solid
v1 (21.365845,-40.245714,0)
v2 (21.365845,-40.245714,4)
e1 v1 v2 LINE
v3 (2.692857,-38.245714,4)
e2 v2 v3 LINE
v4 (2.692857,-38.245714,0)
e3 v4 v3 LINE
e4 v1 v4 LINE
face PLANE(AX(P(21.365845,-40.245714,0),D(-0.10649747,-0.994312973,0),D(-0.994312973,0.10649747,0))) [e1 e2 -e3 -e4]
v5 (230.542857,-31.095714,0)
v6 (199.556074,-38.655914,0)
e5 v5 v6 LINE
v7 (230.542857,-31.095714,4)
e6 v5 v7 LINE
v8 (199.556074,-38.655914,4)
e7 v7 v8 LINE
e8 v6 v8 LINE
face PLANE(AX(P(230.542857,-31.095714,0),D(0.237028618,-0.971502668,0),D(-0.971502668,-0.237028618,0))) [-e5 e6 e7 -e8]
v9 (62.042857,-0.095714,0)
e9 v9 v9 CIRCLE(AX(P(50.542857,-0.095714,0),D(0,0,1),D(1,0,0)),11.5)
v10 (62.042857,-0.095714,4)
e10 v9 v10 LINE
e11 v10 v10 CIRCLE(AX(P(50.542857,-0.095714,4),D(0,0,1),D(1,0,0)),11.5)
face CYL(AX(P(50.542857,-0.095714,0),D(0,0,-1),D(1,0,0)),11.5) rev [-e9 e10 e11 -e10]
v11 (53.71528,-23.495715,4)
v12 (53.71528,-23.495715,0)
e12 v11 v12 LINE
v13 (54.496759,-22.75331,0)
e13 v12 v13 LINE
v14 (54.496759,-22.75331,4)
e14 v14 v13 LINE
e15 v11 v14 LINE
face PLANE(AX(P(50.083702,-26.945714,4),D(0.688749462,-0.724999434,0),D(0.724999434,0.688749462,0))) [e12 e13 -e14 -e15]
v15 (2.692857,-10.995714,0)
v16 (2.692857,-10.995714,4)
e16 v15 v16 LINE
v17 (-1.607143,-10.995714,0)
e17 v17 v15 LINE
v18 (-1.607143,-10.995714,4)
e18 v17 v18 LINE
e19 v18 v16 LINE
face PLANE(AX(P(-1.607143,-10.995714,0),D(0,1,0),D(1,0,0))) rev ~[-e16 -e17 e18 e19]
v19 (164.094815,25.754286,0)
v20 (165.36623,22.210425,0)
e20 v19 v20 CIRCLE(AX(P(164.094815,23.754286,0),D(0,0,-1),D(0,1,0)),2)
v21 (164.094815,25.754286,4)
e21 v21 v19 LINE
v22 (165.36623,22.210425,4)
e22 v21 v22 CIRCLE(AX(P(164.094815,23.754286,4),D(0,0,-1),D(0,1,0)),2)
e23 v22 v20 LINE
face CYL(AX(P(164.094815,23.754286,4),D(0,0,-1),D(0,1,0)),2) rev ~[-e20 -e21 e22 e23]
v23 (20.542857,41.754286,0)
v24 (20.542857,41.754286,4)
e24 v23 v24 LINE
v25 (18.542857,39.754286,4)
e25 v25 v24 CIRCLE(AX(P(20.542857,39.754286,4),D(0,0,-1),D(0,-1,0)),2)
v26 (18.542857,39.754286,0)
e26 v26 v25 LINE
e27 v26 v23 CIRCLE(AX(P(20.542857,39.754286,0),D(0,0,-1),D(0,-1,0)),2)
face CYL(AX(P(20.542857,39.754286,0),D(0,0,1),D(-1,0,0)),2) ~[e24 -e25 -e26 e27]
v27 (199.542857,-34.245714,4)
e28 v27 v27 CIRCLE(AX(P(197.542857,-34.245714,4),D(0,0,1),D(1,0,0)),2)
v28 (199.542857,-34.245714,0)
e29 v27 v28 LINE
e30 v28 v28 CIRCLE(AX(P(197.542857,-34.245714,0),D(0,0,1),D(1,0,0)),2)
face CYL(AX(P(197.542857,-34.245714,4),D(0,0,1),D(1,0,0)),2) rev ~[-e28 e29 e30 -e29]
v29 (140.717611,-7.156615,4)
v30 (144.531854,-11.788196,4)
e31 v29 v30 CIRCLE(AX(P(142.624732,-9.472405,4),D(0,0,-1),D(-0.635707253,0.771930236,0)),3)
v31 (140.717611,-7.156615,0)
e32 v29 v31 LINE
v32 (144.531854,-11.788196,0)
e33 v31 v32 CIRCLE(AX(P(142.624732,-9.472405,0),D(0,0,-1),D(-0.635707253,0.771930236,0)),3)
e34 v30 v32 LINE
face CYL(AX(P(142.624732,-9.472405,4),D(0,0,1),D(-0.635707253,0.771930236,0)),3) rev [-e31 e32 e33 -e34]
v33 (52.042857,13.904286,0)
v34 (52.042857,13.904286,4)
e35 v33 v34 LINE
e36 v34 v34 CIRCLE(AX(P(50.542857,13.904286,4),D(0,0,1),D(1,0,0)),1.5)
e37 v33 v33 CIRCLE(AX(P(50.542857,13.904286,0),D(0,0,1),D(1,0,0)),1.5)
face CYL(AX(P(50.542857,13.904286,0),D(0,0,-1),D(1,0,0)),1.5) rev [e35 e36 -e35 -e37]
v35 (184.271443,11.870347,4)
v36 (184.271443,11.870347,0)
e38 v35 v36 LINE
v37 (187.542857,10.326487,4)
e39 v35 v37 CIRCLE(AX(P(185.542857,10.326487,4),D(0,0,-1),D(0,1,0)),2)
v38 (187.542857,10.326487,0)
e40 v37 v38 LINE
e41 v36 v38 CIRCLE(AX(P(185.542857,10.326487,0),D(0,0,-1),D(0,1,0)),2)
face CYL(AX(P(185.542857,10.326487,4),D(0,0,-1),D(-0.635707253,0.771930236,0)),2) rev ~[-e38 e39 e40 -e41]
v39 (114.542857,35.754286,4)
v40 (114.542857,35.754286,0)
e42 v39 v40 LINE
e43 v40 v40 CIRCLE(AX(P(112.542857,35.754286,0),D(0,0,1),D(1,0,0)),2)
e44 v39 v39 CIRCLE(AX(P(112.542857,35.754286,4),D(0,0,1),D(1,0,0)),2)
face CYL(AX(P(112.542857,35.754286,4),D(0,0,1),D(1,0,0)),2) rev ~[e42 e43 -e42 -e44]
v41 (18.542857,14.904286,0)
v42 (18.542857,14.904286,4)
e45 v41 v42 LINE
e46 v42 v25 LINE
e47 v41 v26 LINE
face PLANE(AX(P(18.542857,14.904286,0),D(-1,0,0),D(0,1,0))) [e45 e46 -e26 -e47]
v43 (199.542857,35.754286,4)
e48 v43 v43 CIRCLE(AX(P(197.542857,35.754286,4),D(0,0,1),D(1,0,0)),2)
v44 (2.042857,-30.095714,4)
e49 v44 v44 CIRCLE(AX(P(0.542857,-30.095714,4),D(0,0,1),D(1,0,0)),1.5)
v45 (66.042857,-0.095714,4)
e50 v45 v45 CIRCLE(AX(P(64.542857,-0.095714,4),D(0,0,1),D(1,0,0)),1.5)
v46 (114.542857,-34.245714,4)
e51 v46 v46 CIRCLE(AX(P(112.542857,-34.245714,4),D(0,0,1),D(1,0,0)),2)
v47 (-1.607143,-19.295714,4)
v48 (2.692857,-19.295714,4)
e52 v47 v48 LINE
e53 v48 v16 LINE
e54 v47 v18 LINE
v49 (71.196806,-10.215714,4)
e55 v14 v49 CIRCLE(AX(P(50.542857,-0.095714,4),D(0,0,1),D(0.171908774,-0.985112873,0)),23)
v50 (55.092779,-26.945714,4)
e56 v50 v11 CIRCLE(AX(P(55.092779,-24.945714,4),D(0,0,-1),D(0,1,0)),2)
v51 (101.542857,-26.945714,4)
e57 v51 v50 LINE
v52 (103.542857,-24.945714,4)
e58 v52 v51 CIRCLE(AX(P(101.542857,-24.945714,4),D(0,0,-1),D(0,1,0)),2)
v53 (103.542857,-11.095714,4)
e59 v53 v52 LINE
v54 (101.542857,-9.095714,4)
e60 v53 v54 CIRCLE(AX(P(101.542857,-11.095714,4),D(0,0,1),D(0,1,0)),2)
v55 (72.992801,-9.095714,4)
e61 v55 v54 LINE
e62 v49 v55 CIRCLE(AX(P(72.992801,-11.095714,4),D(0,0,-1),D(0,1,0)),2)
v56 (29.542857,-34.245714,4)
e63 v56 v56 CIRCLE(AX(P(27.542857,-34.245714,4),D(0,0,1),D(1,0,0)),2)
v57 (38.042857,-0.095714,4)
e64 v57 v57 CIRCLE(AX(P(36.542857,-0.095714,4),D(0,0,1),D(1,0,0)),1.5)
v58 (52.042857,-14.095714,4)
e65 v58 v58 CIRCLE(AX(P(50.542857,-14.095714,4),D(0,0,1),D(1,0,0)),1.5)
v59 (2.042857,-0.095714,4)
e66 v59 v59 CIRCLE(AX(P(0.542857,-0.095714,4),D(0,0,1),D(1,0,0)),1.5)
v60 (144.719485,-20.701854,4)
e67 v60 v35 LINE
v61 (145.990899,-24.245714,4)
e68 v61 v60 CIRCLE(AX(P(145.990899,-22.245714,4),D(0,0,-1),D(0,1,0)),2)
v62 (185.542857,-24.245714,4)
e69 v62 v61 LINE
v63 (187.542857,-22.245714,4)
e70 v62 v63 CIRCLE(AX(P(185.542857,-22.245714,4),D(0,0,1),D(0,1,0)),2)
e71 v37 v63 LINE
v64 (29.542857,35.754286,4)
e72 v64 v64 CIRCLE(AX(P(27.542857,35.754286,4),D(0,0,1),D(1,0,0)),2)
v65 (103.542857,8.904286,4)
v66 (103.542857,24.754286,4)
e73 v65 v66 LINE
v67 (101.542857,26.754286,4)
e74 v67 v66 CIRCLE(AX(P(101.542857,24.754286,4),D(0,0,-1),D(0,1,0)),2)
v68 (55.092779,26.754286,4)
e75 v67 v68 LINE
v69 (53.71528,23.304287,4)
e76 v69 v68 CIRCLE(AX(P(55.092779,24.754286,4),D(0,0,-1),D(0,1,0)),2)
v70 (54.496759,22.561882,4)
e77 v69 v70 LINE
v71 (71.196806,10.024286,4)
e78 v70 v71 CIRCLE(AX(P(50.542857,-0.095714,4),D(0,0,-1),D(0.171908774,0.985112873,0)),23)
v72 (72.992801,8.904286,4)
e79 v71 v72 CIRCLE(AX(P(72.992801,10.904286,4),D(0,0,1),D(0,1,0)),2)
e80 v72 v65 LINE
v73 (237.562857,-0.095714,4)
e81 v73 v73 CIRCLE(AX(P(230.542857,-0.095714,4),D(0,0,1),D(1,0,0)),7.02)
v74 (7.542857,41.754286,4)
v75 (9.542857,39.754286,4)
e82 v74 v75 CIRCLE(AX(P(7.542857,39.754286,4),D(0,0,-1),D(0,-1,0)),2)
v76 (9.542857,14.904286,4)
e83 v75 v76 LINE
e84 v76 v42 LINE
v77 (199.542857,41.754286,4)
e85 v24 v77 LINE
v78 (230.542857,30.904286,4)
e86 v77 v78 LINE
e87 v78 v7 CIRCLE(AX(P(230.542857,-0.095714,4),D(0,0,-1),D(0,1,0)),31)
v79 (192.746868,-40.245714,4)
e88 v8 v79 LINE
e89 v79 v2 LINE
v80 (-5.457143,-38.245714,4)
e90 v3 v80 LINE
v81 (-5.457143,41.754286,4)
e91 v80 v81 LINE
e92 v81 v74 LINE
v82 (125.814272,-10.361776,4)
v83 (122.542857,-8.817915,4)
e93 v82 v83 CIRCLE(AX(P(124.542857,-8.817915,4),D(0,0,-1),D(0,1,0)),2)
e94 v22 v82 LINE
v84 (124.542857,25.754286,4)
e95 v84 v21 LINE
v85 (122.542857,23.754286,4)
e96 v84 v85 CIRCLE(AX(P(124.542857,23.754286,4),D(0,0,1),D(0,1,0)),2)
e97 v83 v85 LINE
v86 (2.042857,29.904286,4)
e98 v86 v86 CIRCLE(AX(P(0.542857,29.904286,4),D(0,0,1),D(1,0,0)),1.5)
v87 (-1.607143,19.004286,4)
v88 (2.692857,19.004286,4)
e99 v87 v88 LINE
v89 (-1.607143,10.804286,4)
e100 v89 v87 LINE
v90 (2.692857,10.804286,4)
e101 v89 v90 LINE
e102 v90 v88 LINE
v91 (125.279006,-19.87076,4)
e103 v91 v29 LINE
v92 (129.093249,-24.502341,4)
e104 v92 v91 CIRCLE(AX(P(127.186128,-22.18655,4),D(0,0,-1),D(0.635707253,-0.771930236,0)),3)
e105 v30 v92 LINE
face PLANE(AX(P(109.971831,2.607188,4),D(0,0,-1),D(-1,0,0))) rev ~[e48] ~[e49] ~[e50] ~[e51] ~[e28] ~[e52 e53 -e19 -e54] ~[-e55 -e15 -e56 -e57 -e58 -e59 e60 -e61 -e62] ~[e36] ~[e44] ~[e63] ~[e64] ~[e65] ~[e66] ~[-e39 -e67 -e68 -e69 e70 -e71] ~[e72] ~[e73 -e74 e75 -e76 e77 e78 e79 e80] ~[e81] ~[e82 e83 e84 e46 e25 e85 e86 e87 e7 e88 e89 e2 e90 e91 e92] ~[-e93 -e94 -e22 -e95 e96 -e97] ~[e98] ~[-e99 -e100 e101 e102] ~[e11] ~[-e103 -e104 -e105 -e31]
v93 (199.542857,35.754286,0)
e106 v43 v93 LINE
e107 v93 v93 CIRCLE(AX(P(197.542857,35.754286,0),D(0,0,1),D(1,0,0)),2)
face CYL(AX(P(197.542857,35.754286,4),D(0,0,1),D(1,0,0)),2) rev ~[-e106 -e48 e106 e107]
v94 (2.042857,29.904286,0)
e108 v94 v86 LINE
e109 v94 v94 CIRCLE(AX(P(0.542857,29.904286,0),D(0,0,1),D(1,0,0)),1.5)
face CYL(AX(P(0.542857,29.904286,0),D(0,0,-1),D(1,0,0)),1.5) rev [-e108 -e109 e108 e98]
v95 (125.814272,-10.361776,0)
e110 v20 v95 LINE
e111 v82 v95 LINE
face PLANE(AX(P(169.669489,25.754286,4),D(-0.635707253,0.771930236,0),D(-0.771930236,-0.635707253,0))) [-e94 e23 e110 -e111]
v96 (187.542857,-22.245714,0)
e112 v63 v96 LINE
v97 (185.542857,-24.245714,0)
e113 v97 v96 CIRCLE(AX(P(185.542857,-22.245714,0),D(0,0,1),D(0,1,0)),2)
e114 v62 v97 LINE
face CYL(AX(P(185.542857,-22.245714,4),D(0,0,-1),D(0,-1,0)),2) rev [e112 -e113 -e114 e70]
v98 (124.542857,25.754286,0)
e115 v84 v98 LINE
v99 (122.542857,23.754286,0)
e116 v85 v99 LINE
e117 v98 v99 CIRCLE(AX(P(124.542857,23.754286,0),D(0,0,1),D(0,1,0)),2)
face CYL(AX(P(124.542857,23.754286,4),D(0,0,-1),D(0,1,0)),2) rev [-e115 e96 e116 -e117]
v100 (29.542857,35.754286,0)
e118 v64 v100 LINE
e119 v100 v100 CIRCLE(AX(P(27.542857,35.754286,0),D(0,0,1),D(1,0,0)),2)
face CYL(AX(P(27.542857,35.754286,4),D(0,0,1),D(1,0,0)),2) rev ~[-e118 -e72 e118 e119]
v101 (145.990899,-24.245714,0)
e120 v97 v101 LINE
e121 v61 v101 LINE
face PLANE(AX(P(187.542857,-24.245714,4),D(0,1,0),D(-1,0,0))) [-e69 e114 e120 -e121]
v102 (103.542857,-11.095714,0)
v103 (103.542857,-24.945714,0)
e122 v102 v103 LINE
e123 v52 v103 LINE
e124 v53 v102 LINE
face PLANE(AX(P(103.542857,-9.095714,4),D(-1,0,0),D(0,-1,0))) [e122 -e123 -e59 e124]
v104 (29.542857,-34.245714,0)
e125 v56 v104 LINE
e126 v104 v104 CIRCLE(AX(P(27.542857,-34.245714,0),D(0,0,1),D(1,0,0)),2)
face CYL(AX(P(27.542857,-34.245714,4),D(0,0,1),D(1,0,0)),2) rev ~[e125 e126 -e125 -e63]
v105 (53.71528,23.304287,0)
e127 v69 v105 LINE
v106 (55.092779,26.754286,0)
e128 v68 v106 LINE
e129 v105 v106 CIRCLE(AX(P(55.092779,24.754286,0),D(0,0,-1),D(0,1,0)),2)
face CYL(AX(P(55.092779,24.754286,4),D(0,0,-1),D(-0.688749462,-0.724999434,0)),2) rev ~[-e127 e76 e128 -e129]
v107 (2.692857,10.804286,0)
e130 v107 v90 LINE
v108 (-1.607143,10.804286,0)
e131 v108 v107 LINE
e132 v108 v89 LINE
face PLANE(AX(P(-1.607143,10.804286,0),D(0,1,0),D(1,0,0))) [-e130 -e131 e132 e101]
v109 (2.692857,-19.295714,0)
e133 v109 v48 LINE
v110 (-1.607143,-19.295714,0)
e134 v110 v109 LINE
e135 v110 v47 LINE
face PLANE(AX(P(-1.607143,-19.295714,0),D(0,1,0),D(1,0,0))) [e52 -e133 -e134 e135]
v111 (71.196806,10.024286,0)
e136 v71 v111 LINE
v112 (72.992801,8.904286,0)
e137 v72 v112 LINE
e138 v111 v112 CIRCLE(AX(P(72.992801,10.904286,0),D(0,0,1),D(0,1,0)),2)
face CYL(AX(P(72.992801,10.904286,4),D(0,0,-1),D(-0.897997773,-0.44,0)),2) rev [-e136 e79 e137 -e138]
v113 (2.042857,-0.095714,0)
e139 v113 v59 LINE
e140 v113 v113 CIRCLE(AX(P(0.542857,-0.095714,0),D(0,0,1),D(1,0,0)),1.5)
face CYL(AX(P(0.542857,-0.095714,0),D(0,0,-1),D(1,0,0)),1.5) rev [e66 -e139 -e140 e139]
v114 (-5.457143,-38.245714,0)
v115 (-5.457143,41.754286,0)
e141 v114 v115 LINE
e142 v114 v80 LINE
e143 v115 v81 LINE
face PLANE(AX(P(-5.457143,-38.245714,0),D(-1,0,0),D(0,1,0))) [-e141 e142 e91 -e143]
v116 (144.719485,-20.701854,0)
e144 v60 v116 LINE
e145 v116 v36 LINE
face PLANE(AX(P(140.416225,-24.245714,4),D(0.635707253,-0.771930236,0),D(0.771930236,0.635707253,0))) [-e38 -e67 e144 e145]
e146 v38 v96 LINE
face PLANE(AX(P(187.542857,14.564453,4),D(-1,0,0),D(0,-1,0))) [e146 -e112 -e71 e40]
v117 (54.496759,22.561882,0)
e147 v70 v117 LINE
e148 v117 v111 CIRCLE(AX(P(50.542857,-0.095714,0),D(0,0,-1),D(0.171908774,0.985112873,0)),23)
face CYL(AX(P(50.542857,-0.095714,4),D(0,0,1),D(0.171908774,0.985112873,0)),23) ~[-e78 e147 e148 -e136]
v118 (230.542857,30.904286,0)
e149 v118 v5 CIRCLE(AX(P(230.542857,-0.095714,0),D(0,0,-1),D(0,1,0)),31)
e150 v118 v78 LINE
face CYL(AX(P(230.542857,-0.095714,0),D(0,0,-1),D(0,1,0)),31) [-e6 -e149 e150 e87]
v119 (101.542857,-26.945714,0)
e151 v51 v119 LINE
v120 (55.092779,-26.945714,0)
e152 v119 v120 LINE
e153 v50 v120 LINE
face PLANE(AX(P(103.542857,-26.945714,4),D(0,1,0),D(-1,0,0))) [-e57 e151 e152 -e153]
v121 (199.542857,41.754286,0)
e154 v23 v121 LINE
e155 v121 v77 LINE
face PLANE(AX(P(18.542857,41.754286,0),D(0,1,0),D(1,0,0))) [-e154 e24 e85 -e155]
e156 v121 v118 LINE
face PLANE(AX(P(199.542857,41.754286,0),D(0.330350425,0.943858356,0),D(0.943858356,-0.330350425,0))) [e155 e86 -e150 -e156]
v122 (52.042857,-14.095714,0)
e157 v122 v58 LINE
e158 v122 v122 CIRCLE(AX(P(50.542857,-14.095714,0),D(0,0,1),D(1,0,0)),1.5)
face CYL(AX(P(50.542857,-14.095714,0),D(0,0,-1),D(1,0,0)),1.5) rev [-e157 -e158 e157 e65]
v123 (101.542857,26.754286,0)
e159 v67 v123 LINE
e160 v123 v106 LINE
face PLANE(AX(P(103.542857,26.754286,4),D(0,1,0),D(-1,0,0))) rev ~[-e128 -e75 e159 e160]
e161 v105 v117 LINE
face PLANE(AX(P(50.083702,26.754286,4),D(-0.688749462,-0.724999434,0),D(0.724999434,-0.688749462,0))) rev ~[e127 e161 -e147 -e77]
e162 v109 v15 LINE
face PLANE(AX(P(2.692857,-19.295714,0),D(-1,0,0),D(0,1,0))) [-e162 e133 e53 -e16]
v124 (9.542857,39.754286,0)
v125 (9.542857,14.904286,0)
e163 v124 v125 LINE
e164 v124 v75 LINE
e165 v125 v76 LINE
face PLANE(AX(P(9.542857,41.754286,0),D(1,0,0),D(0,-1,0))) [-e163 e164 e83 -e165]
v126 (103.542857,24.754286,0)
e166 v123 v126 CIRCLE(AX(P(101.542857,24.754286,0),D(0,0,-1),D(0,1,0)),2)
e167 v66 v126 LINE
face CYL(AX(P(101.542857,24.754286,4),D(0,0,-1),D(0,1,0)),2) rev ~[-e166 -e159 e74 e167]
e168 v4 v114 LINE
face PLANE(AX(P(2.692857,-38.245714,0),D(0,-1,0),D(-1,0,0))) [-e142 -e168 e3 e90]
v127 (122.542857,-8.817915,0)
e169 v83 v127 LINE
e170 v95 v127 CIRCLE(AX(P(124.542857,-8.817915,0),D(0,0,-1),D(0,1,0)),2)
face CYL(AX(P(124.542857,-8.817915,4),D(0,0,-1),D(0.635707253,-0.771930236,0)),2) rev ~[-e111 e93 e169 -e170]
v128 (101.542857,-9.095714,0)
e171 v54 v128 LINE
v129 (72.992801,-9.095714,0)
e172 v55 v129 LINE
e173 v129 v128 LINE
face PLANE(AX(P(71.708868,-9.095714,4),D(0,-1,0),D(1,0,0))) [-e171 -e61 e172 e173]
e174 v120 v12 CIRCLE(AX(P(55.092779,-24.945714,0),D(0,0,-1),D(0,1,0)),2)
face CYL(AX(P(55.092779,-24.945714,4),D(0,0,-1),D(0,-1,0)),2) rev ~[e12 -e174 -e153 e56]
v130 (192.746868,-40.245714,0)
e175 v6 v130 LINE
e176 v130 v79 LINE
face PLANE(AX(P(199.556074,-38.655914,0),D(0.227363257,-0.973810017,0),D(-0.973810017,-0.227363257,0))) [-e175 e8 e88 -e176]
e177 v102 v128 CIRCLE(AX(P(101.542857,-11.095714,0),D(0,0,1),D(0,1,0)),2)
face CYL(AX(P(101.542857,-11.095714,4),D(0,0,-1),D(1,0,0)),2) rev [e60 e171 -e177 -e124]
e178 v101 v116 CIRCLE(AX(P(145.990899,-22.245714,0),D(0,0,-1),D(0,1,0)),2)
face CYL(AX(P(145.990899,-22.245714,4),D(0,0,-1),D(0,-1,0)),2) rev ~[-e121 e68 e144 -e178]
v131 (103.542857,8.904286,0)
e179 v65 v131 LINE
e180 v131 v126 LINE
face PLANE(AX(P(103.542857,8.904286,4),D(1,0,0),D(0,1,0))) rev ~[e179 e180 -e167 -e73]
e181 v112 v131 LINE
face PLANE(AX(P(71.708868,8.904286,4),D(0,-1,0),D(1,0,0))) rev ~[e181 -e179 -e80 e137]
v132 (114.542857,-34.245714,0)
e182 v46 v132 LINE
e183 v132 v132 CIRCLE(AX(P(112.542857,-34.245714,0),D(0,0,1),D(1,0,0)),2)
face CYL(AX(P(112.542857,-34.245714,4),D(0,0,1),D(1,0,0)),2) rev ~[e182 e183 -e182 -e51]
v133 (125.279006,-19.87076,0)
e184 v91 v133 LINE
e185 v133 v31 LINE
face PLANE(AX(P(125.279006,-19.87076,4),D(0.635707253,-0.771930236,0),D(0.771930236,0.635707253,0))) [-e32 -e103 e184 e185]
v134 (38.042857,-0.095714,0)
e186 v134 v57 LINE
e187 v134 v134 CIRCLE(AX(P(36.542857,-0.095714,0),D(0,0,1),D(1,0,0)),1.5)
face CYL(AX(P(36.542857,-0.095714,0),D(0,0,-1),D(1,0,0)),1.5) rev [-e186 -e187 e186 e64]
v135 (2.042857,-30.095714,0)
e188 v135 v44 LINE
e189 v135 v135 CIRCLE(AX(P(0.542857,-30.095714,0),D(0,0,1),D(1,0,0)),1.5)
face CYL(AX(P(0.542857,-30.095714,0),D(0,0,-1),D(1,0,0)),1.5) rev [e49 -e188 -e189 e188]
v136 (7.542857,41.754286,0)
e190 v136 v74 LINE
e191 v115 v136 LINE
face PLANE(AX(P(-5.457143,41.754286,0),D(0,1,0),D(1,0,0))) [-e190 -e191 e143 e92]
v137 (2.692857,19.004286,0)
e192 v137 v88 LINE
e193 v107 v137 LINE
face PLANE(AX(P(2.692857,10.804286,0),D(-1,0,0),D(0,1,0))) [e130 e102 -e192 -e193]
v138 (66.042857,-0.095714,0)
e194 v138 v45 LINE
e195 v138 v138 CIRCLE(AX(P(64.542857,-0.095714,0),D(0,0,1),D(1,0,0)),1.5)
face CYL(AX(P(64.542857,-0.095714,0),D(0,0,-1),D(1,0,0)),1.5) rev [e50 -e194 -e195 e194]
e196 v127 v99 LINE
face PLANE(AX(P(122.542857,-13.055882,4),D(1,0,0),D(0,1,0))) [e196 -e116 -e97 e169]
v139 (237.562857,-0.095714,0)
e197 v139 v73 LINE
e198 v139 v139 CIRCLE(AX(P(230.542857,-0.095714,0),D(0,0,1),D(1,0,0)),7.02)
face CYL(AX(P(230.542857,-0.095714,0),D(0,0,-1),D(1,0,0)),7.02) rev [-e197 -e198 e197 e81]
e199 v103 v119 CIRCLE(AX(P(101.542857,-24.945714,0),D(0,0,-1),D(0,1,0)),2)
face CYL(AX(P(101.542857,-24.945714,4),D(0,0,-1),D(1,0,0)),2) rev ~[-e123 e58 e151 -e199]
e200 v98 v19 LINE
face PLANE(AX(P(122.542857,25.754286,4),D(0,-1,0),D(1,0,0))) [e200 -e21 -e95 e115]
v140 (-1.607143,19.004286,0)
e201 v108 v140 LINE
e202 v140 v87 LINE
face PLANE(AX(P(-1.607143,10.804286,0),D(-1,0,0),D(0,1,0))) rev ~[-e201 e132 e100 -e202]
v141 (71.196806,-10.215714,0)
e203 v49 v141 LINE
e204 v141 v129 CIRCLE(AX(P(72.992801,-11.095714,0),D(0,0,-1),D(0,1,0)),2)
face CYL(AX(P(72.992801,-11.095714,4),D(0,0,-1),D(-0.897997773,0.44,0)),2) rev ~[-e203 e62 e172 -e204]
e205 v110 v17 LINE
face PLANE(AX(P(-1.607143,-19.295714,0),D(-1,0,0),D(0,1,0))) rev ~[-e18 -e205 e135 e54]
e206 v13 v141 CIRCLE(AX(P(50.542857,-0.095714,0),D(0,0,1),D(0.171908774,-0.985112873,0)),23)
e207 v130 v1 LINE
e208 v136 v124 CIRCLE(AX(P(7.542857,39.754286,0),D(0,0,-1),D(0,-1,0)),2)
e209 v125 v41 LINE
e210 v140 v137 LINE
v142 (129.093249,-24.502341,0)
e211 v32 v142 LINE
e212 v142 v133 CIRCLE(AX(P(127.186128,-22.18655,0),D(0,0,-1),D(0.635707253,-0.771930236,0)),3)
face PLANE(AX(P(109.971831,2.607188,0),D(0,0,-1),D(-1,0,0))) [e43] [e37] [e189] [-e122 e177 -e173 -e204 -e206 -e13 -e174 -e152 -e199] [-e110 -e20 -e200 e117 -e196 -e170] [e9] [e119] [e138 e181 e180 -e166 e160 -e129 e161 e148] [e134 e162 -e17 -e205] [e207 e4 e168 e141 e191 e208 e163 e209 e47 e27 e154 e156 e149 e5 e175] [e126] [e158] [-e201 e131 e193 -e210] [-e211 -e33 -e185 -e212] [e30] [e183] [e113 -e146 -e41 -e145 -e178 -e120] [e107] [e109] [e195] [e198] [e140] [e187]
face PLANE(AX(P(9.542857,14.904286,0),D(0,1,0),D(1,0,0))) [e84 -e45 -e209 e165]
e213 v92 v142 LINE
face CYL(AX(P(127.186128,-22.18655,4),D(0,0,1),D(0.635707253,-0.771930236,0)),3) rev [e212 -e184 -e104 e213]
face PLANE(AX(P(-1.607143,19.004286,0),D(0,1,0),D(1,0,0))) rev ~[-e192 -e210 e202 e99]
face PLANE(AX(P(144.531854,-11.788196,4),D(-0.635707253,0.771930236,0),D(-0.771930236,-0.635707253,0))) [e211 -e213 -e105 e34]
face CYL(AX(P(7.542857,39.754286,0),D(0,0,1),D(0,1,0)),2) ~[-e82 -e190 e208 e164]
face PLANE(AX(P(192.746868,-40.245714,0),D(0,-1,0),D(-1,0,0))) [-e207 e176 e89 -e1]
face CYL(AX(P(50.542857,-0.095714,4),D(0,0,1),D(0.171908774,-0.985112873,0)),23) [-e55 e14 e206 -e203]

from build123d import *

# Parameters (mm, degrees)
SKETCH_1_R          = 1.5
SKETCH_1_R_2        = 11.5
SKETCH_1_R_3        = 7.02
SKETCH_1_W          = 4.3
SKETCH_1_H          = 8.2
SKETCH_1_H_2        = 8.3
EXTRUDE_1_DEPTH     = 4
SKETCH_2_R          = 2
CUT_EXTRUDE_1_DEPTH = 4
FILLET_1_R          = 2


with BuildPart() as part:
    # 草图1 → 凸台-拉伸1 (new body)
    with BuildSketch(Plane.XY):
        with BuildLine():
            Line((-5.457142857, -0.095714286), (-5.457142857, 41.754285714))
            Line((-5.457142857, 41.754285714), (9.542857143, 41.754285714))
            Line((9.542857143, 41.754285714), (9.542857143, 14.904285714))
            Line((9.542857143, 14.904285714), (18.542857143, 14.904285714))
            Line((18.542857143, 14.904285714), (18.542857143, 41.754285714))
            Line((18.542857143, 41.754285714), (199.542857143, 41.754285714))
            Line((199.542857143, 41.754285714), (230.542857143, 30.904285714))
            ThreePointArc((230.542857143, 30.904285714), (261.542857143, -0.095714286), (230.542857143, -31.095714286))
            Line((230.542857143, -31.095714286), (199.556073527, -38.65591431))
            Line((199.556073527, -38.65591431), (192.746868021, -40.245714286))
            Line((192.746868021, -40.245714286), (21.365844759, -40.245714286))
            Line((21.365844759, -40.245714286), (2.692857143, -38.245714286))
            Line((2.692857143, -38.245714286), (-5.457142857, -38.245714286))
            Line((-5.457142857, -38.245714286), (-5.457142857, -0.095714286))
        make_face()
        with Locations((0.542857143, 29.904285714)):
            Circle(SKETCH_1_R, mode=Mode.SUBTRACT)
        with Locations((0.542857143, -0.095714286)):
            Circle(SKETCH_1_R, mode=Mode.SUBTRACT)
        with Locations((0.542857143, -30.095714286)):
            Circle(SKETCH_1_R, mode=Mode.SUBTRACT)
        with Locations((50.542857143, -0.095714286)):
            Circle(SKETCH_1_R_2, mode=Mode.SUBTRACT)
        with Locations((50.542857143, -14.095714286)):
            Circle(SKETCH_1_R, mode=Mode.SUBTRACT)
        with Locations((36.542857143, -0.095714286)):
            Circle(SKETCH_1_R, mode=Mode.SUBTRACT)
        with Locations((50.542857143, 13.904285714)):
            Circle(SKETCH_1_R, mode=Mode.SUBTRACT)
        with Locations((64.542857143, -0.095714286)):
            Circle(SKETCH_1_R, mode=Mode.SUBTRACT)
        with Locations((230.542857143, -0.095714286)):
            Circle(SKETCH_1_R_3, mode=Mode.SUBTRACT)
        with Locations((0.542857143, 14.904285714)):
            Rectangle(SKETCH_1_W, SKETCH_1_H, mode=Mode.SUBTRACT)
        with Locations((0.542857143, -15.145714286)):
            Rectangle(SKETCH_1_W, SKETCH_1_H_2, mode=Mode.SUBTRACT)
    extrude(amount=EXTRUDE_1_DEPTH)

    # 草图2 → 切除-拉伸1 (cut)
    with BuildSketch(Plane.XY.offset(4)):
        with Locations((27.542857143, 35.754285714)):
            Circle(SKETCH_2_R)
        with Locations((112.542857143, 35.754285714)):
            Circle(SKETCH_2_R)
        with Locations((197.542857143, 35.754285714)):
            Circle(SKETCH_2_R)
        with Locations((112.542857143, -34.245714286)):
            Circle(SKETCH_2_R)
        with Locations((197.542857143, -34.245714286)):
            Circle(SKETCH_2_R)
        with Locations((27.542857143, -34.245714286)):
            Circle(SKETCH_2_R)
        Polygon((187.542857143, -24.245714286), (140.41622539, -24.245714286), (187.542857143, 14.56445304), align=None)
        Polygon((122.542857143, 25.754285714), (169.669488896, 25.754285714), (122.542857143, -13.055881612), align=None)
        with BuildLine():
            Line((71.708867631, 8.904285714), (103.542857143, 8.904285714))
            Line((103.542857143, 8.904285714), (103.542857143, 26.754285714))
            Line((103.542857143, 26.754285714), (50.083702197, 26.754285714))
            Line((50.083702197, 26.754285714), (54.496758946, 22.561881803))
            ThreePointArc((54.496758946, 22.561881803), (64.839184682, 17.921361473), (71.708867631, 8.904285714))
        make_face()
        with BuildLine():
            Line((103.542857143, -9.095714286), (103.542857143, -26.945714286))
            Line((103.542857143, -26.945714286), (50.083702197, -26.945714286))
            Line((50.083702197, -26.945714286), (54.496758946, -22.753310375))
            ThreePointArc((54.496758946, -22.753310375), (64.839184682, -18.112790044), (71.708867631, -9.095714286))
            Line((71.708867631, -9.095714286), (103.542857143, -9.095714286))
        make_face()
        with BuildLine():
            Line((125.279005787, -19.870759717), (140.7176105, -7.15661466))
            ThreePointArc((140.7176105, -7.15661466), (144.940522965, -7.565283608), (144.531854017, -11.788196074))
            Line((144.531854017, -11.788196074), (129.093249305, -24.502341131))
            ThreePointArc((129.093249305, -24.502341131), (124.870336839, -24.093672183), (125.279005787, -19.870759717))
        make_face()
    extrude(amount=-CUT_EXTRUDE_1_DEPTH, mode=Mode.SUBTRACT)

    # 圆角1
    fillet_1_edges = [part.edges().sort_by_distance(p)[0] for p in [
        (71.708867631, 8.904285714, 2),
        (50.083702197, 26.754285714, 2),
        (103.542857143, 26.754285714, 2),
        (122.542857143, -13.055881612, 2),
        (122.542857143, 25.754285714, 2),
        (169.669488896, 25.754285714, 2),
        (187.542857143, 14.56445304, 2),
        (187.542857143, -24.245714286, 2),
        (140.41622539, -24.245714286, 2),
        (103.542857143, -26.945714286, 2),
        (50.083702197, -26.945714286, 2),
        (71.708867631, -9.095714286, 2),
        (103.542857143, -9.095714286, 2),
        (9.542857143, 41.754285714, 2),
        (18.542857143, 41.754285714, 2),
    ]]
    fillet(fillet_1_edges, radius=FILLET_1_R)


solid = part.part
